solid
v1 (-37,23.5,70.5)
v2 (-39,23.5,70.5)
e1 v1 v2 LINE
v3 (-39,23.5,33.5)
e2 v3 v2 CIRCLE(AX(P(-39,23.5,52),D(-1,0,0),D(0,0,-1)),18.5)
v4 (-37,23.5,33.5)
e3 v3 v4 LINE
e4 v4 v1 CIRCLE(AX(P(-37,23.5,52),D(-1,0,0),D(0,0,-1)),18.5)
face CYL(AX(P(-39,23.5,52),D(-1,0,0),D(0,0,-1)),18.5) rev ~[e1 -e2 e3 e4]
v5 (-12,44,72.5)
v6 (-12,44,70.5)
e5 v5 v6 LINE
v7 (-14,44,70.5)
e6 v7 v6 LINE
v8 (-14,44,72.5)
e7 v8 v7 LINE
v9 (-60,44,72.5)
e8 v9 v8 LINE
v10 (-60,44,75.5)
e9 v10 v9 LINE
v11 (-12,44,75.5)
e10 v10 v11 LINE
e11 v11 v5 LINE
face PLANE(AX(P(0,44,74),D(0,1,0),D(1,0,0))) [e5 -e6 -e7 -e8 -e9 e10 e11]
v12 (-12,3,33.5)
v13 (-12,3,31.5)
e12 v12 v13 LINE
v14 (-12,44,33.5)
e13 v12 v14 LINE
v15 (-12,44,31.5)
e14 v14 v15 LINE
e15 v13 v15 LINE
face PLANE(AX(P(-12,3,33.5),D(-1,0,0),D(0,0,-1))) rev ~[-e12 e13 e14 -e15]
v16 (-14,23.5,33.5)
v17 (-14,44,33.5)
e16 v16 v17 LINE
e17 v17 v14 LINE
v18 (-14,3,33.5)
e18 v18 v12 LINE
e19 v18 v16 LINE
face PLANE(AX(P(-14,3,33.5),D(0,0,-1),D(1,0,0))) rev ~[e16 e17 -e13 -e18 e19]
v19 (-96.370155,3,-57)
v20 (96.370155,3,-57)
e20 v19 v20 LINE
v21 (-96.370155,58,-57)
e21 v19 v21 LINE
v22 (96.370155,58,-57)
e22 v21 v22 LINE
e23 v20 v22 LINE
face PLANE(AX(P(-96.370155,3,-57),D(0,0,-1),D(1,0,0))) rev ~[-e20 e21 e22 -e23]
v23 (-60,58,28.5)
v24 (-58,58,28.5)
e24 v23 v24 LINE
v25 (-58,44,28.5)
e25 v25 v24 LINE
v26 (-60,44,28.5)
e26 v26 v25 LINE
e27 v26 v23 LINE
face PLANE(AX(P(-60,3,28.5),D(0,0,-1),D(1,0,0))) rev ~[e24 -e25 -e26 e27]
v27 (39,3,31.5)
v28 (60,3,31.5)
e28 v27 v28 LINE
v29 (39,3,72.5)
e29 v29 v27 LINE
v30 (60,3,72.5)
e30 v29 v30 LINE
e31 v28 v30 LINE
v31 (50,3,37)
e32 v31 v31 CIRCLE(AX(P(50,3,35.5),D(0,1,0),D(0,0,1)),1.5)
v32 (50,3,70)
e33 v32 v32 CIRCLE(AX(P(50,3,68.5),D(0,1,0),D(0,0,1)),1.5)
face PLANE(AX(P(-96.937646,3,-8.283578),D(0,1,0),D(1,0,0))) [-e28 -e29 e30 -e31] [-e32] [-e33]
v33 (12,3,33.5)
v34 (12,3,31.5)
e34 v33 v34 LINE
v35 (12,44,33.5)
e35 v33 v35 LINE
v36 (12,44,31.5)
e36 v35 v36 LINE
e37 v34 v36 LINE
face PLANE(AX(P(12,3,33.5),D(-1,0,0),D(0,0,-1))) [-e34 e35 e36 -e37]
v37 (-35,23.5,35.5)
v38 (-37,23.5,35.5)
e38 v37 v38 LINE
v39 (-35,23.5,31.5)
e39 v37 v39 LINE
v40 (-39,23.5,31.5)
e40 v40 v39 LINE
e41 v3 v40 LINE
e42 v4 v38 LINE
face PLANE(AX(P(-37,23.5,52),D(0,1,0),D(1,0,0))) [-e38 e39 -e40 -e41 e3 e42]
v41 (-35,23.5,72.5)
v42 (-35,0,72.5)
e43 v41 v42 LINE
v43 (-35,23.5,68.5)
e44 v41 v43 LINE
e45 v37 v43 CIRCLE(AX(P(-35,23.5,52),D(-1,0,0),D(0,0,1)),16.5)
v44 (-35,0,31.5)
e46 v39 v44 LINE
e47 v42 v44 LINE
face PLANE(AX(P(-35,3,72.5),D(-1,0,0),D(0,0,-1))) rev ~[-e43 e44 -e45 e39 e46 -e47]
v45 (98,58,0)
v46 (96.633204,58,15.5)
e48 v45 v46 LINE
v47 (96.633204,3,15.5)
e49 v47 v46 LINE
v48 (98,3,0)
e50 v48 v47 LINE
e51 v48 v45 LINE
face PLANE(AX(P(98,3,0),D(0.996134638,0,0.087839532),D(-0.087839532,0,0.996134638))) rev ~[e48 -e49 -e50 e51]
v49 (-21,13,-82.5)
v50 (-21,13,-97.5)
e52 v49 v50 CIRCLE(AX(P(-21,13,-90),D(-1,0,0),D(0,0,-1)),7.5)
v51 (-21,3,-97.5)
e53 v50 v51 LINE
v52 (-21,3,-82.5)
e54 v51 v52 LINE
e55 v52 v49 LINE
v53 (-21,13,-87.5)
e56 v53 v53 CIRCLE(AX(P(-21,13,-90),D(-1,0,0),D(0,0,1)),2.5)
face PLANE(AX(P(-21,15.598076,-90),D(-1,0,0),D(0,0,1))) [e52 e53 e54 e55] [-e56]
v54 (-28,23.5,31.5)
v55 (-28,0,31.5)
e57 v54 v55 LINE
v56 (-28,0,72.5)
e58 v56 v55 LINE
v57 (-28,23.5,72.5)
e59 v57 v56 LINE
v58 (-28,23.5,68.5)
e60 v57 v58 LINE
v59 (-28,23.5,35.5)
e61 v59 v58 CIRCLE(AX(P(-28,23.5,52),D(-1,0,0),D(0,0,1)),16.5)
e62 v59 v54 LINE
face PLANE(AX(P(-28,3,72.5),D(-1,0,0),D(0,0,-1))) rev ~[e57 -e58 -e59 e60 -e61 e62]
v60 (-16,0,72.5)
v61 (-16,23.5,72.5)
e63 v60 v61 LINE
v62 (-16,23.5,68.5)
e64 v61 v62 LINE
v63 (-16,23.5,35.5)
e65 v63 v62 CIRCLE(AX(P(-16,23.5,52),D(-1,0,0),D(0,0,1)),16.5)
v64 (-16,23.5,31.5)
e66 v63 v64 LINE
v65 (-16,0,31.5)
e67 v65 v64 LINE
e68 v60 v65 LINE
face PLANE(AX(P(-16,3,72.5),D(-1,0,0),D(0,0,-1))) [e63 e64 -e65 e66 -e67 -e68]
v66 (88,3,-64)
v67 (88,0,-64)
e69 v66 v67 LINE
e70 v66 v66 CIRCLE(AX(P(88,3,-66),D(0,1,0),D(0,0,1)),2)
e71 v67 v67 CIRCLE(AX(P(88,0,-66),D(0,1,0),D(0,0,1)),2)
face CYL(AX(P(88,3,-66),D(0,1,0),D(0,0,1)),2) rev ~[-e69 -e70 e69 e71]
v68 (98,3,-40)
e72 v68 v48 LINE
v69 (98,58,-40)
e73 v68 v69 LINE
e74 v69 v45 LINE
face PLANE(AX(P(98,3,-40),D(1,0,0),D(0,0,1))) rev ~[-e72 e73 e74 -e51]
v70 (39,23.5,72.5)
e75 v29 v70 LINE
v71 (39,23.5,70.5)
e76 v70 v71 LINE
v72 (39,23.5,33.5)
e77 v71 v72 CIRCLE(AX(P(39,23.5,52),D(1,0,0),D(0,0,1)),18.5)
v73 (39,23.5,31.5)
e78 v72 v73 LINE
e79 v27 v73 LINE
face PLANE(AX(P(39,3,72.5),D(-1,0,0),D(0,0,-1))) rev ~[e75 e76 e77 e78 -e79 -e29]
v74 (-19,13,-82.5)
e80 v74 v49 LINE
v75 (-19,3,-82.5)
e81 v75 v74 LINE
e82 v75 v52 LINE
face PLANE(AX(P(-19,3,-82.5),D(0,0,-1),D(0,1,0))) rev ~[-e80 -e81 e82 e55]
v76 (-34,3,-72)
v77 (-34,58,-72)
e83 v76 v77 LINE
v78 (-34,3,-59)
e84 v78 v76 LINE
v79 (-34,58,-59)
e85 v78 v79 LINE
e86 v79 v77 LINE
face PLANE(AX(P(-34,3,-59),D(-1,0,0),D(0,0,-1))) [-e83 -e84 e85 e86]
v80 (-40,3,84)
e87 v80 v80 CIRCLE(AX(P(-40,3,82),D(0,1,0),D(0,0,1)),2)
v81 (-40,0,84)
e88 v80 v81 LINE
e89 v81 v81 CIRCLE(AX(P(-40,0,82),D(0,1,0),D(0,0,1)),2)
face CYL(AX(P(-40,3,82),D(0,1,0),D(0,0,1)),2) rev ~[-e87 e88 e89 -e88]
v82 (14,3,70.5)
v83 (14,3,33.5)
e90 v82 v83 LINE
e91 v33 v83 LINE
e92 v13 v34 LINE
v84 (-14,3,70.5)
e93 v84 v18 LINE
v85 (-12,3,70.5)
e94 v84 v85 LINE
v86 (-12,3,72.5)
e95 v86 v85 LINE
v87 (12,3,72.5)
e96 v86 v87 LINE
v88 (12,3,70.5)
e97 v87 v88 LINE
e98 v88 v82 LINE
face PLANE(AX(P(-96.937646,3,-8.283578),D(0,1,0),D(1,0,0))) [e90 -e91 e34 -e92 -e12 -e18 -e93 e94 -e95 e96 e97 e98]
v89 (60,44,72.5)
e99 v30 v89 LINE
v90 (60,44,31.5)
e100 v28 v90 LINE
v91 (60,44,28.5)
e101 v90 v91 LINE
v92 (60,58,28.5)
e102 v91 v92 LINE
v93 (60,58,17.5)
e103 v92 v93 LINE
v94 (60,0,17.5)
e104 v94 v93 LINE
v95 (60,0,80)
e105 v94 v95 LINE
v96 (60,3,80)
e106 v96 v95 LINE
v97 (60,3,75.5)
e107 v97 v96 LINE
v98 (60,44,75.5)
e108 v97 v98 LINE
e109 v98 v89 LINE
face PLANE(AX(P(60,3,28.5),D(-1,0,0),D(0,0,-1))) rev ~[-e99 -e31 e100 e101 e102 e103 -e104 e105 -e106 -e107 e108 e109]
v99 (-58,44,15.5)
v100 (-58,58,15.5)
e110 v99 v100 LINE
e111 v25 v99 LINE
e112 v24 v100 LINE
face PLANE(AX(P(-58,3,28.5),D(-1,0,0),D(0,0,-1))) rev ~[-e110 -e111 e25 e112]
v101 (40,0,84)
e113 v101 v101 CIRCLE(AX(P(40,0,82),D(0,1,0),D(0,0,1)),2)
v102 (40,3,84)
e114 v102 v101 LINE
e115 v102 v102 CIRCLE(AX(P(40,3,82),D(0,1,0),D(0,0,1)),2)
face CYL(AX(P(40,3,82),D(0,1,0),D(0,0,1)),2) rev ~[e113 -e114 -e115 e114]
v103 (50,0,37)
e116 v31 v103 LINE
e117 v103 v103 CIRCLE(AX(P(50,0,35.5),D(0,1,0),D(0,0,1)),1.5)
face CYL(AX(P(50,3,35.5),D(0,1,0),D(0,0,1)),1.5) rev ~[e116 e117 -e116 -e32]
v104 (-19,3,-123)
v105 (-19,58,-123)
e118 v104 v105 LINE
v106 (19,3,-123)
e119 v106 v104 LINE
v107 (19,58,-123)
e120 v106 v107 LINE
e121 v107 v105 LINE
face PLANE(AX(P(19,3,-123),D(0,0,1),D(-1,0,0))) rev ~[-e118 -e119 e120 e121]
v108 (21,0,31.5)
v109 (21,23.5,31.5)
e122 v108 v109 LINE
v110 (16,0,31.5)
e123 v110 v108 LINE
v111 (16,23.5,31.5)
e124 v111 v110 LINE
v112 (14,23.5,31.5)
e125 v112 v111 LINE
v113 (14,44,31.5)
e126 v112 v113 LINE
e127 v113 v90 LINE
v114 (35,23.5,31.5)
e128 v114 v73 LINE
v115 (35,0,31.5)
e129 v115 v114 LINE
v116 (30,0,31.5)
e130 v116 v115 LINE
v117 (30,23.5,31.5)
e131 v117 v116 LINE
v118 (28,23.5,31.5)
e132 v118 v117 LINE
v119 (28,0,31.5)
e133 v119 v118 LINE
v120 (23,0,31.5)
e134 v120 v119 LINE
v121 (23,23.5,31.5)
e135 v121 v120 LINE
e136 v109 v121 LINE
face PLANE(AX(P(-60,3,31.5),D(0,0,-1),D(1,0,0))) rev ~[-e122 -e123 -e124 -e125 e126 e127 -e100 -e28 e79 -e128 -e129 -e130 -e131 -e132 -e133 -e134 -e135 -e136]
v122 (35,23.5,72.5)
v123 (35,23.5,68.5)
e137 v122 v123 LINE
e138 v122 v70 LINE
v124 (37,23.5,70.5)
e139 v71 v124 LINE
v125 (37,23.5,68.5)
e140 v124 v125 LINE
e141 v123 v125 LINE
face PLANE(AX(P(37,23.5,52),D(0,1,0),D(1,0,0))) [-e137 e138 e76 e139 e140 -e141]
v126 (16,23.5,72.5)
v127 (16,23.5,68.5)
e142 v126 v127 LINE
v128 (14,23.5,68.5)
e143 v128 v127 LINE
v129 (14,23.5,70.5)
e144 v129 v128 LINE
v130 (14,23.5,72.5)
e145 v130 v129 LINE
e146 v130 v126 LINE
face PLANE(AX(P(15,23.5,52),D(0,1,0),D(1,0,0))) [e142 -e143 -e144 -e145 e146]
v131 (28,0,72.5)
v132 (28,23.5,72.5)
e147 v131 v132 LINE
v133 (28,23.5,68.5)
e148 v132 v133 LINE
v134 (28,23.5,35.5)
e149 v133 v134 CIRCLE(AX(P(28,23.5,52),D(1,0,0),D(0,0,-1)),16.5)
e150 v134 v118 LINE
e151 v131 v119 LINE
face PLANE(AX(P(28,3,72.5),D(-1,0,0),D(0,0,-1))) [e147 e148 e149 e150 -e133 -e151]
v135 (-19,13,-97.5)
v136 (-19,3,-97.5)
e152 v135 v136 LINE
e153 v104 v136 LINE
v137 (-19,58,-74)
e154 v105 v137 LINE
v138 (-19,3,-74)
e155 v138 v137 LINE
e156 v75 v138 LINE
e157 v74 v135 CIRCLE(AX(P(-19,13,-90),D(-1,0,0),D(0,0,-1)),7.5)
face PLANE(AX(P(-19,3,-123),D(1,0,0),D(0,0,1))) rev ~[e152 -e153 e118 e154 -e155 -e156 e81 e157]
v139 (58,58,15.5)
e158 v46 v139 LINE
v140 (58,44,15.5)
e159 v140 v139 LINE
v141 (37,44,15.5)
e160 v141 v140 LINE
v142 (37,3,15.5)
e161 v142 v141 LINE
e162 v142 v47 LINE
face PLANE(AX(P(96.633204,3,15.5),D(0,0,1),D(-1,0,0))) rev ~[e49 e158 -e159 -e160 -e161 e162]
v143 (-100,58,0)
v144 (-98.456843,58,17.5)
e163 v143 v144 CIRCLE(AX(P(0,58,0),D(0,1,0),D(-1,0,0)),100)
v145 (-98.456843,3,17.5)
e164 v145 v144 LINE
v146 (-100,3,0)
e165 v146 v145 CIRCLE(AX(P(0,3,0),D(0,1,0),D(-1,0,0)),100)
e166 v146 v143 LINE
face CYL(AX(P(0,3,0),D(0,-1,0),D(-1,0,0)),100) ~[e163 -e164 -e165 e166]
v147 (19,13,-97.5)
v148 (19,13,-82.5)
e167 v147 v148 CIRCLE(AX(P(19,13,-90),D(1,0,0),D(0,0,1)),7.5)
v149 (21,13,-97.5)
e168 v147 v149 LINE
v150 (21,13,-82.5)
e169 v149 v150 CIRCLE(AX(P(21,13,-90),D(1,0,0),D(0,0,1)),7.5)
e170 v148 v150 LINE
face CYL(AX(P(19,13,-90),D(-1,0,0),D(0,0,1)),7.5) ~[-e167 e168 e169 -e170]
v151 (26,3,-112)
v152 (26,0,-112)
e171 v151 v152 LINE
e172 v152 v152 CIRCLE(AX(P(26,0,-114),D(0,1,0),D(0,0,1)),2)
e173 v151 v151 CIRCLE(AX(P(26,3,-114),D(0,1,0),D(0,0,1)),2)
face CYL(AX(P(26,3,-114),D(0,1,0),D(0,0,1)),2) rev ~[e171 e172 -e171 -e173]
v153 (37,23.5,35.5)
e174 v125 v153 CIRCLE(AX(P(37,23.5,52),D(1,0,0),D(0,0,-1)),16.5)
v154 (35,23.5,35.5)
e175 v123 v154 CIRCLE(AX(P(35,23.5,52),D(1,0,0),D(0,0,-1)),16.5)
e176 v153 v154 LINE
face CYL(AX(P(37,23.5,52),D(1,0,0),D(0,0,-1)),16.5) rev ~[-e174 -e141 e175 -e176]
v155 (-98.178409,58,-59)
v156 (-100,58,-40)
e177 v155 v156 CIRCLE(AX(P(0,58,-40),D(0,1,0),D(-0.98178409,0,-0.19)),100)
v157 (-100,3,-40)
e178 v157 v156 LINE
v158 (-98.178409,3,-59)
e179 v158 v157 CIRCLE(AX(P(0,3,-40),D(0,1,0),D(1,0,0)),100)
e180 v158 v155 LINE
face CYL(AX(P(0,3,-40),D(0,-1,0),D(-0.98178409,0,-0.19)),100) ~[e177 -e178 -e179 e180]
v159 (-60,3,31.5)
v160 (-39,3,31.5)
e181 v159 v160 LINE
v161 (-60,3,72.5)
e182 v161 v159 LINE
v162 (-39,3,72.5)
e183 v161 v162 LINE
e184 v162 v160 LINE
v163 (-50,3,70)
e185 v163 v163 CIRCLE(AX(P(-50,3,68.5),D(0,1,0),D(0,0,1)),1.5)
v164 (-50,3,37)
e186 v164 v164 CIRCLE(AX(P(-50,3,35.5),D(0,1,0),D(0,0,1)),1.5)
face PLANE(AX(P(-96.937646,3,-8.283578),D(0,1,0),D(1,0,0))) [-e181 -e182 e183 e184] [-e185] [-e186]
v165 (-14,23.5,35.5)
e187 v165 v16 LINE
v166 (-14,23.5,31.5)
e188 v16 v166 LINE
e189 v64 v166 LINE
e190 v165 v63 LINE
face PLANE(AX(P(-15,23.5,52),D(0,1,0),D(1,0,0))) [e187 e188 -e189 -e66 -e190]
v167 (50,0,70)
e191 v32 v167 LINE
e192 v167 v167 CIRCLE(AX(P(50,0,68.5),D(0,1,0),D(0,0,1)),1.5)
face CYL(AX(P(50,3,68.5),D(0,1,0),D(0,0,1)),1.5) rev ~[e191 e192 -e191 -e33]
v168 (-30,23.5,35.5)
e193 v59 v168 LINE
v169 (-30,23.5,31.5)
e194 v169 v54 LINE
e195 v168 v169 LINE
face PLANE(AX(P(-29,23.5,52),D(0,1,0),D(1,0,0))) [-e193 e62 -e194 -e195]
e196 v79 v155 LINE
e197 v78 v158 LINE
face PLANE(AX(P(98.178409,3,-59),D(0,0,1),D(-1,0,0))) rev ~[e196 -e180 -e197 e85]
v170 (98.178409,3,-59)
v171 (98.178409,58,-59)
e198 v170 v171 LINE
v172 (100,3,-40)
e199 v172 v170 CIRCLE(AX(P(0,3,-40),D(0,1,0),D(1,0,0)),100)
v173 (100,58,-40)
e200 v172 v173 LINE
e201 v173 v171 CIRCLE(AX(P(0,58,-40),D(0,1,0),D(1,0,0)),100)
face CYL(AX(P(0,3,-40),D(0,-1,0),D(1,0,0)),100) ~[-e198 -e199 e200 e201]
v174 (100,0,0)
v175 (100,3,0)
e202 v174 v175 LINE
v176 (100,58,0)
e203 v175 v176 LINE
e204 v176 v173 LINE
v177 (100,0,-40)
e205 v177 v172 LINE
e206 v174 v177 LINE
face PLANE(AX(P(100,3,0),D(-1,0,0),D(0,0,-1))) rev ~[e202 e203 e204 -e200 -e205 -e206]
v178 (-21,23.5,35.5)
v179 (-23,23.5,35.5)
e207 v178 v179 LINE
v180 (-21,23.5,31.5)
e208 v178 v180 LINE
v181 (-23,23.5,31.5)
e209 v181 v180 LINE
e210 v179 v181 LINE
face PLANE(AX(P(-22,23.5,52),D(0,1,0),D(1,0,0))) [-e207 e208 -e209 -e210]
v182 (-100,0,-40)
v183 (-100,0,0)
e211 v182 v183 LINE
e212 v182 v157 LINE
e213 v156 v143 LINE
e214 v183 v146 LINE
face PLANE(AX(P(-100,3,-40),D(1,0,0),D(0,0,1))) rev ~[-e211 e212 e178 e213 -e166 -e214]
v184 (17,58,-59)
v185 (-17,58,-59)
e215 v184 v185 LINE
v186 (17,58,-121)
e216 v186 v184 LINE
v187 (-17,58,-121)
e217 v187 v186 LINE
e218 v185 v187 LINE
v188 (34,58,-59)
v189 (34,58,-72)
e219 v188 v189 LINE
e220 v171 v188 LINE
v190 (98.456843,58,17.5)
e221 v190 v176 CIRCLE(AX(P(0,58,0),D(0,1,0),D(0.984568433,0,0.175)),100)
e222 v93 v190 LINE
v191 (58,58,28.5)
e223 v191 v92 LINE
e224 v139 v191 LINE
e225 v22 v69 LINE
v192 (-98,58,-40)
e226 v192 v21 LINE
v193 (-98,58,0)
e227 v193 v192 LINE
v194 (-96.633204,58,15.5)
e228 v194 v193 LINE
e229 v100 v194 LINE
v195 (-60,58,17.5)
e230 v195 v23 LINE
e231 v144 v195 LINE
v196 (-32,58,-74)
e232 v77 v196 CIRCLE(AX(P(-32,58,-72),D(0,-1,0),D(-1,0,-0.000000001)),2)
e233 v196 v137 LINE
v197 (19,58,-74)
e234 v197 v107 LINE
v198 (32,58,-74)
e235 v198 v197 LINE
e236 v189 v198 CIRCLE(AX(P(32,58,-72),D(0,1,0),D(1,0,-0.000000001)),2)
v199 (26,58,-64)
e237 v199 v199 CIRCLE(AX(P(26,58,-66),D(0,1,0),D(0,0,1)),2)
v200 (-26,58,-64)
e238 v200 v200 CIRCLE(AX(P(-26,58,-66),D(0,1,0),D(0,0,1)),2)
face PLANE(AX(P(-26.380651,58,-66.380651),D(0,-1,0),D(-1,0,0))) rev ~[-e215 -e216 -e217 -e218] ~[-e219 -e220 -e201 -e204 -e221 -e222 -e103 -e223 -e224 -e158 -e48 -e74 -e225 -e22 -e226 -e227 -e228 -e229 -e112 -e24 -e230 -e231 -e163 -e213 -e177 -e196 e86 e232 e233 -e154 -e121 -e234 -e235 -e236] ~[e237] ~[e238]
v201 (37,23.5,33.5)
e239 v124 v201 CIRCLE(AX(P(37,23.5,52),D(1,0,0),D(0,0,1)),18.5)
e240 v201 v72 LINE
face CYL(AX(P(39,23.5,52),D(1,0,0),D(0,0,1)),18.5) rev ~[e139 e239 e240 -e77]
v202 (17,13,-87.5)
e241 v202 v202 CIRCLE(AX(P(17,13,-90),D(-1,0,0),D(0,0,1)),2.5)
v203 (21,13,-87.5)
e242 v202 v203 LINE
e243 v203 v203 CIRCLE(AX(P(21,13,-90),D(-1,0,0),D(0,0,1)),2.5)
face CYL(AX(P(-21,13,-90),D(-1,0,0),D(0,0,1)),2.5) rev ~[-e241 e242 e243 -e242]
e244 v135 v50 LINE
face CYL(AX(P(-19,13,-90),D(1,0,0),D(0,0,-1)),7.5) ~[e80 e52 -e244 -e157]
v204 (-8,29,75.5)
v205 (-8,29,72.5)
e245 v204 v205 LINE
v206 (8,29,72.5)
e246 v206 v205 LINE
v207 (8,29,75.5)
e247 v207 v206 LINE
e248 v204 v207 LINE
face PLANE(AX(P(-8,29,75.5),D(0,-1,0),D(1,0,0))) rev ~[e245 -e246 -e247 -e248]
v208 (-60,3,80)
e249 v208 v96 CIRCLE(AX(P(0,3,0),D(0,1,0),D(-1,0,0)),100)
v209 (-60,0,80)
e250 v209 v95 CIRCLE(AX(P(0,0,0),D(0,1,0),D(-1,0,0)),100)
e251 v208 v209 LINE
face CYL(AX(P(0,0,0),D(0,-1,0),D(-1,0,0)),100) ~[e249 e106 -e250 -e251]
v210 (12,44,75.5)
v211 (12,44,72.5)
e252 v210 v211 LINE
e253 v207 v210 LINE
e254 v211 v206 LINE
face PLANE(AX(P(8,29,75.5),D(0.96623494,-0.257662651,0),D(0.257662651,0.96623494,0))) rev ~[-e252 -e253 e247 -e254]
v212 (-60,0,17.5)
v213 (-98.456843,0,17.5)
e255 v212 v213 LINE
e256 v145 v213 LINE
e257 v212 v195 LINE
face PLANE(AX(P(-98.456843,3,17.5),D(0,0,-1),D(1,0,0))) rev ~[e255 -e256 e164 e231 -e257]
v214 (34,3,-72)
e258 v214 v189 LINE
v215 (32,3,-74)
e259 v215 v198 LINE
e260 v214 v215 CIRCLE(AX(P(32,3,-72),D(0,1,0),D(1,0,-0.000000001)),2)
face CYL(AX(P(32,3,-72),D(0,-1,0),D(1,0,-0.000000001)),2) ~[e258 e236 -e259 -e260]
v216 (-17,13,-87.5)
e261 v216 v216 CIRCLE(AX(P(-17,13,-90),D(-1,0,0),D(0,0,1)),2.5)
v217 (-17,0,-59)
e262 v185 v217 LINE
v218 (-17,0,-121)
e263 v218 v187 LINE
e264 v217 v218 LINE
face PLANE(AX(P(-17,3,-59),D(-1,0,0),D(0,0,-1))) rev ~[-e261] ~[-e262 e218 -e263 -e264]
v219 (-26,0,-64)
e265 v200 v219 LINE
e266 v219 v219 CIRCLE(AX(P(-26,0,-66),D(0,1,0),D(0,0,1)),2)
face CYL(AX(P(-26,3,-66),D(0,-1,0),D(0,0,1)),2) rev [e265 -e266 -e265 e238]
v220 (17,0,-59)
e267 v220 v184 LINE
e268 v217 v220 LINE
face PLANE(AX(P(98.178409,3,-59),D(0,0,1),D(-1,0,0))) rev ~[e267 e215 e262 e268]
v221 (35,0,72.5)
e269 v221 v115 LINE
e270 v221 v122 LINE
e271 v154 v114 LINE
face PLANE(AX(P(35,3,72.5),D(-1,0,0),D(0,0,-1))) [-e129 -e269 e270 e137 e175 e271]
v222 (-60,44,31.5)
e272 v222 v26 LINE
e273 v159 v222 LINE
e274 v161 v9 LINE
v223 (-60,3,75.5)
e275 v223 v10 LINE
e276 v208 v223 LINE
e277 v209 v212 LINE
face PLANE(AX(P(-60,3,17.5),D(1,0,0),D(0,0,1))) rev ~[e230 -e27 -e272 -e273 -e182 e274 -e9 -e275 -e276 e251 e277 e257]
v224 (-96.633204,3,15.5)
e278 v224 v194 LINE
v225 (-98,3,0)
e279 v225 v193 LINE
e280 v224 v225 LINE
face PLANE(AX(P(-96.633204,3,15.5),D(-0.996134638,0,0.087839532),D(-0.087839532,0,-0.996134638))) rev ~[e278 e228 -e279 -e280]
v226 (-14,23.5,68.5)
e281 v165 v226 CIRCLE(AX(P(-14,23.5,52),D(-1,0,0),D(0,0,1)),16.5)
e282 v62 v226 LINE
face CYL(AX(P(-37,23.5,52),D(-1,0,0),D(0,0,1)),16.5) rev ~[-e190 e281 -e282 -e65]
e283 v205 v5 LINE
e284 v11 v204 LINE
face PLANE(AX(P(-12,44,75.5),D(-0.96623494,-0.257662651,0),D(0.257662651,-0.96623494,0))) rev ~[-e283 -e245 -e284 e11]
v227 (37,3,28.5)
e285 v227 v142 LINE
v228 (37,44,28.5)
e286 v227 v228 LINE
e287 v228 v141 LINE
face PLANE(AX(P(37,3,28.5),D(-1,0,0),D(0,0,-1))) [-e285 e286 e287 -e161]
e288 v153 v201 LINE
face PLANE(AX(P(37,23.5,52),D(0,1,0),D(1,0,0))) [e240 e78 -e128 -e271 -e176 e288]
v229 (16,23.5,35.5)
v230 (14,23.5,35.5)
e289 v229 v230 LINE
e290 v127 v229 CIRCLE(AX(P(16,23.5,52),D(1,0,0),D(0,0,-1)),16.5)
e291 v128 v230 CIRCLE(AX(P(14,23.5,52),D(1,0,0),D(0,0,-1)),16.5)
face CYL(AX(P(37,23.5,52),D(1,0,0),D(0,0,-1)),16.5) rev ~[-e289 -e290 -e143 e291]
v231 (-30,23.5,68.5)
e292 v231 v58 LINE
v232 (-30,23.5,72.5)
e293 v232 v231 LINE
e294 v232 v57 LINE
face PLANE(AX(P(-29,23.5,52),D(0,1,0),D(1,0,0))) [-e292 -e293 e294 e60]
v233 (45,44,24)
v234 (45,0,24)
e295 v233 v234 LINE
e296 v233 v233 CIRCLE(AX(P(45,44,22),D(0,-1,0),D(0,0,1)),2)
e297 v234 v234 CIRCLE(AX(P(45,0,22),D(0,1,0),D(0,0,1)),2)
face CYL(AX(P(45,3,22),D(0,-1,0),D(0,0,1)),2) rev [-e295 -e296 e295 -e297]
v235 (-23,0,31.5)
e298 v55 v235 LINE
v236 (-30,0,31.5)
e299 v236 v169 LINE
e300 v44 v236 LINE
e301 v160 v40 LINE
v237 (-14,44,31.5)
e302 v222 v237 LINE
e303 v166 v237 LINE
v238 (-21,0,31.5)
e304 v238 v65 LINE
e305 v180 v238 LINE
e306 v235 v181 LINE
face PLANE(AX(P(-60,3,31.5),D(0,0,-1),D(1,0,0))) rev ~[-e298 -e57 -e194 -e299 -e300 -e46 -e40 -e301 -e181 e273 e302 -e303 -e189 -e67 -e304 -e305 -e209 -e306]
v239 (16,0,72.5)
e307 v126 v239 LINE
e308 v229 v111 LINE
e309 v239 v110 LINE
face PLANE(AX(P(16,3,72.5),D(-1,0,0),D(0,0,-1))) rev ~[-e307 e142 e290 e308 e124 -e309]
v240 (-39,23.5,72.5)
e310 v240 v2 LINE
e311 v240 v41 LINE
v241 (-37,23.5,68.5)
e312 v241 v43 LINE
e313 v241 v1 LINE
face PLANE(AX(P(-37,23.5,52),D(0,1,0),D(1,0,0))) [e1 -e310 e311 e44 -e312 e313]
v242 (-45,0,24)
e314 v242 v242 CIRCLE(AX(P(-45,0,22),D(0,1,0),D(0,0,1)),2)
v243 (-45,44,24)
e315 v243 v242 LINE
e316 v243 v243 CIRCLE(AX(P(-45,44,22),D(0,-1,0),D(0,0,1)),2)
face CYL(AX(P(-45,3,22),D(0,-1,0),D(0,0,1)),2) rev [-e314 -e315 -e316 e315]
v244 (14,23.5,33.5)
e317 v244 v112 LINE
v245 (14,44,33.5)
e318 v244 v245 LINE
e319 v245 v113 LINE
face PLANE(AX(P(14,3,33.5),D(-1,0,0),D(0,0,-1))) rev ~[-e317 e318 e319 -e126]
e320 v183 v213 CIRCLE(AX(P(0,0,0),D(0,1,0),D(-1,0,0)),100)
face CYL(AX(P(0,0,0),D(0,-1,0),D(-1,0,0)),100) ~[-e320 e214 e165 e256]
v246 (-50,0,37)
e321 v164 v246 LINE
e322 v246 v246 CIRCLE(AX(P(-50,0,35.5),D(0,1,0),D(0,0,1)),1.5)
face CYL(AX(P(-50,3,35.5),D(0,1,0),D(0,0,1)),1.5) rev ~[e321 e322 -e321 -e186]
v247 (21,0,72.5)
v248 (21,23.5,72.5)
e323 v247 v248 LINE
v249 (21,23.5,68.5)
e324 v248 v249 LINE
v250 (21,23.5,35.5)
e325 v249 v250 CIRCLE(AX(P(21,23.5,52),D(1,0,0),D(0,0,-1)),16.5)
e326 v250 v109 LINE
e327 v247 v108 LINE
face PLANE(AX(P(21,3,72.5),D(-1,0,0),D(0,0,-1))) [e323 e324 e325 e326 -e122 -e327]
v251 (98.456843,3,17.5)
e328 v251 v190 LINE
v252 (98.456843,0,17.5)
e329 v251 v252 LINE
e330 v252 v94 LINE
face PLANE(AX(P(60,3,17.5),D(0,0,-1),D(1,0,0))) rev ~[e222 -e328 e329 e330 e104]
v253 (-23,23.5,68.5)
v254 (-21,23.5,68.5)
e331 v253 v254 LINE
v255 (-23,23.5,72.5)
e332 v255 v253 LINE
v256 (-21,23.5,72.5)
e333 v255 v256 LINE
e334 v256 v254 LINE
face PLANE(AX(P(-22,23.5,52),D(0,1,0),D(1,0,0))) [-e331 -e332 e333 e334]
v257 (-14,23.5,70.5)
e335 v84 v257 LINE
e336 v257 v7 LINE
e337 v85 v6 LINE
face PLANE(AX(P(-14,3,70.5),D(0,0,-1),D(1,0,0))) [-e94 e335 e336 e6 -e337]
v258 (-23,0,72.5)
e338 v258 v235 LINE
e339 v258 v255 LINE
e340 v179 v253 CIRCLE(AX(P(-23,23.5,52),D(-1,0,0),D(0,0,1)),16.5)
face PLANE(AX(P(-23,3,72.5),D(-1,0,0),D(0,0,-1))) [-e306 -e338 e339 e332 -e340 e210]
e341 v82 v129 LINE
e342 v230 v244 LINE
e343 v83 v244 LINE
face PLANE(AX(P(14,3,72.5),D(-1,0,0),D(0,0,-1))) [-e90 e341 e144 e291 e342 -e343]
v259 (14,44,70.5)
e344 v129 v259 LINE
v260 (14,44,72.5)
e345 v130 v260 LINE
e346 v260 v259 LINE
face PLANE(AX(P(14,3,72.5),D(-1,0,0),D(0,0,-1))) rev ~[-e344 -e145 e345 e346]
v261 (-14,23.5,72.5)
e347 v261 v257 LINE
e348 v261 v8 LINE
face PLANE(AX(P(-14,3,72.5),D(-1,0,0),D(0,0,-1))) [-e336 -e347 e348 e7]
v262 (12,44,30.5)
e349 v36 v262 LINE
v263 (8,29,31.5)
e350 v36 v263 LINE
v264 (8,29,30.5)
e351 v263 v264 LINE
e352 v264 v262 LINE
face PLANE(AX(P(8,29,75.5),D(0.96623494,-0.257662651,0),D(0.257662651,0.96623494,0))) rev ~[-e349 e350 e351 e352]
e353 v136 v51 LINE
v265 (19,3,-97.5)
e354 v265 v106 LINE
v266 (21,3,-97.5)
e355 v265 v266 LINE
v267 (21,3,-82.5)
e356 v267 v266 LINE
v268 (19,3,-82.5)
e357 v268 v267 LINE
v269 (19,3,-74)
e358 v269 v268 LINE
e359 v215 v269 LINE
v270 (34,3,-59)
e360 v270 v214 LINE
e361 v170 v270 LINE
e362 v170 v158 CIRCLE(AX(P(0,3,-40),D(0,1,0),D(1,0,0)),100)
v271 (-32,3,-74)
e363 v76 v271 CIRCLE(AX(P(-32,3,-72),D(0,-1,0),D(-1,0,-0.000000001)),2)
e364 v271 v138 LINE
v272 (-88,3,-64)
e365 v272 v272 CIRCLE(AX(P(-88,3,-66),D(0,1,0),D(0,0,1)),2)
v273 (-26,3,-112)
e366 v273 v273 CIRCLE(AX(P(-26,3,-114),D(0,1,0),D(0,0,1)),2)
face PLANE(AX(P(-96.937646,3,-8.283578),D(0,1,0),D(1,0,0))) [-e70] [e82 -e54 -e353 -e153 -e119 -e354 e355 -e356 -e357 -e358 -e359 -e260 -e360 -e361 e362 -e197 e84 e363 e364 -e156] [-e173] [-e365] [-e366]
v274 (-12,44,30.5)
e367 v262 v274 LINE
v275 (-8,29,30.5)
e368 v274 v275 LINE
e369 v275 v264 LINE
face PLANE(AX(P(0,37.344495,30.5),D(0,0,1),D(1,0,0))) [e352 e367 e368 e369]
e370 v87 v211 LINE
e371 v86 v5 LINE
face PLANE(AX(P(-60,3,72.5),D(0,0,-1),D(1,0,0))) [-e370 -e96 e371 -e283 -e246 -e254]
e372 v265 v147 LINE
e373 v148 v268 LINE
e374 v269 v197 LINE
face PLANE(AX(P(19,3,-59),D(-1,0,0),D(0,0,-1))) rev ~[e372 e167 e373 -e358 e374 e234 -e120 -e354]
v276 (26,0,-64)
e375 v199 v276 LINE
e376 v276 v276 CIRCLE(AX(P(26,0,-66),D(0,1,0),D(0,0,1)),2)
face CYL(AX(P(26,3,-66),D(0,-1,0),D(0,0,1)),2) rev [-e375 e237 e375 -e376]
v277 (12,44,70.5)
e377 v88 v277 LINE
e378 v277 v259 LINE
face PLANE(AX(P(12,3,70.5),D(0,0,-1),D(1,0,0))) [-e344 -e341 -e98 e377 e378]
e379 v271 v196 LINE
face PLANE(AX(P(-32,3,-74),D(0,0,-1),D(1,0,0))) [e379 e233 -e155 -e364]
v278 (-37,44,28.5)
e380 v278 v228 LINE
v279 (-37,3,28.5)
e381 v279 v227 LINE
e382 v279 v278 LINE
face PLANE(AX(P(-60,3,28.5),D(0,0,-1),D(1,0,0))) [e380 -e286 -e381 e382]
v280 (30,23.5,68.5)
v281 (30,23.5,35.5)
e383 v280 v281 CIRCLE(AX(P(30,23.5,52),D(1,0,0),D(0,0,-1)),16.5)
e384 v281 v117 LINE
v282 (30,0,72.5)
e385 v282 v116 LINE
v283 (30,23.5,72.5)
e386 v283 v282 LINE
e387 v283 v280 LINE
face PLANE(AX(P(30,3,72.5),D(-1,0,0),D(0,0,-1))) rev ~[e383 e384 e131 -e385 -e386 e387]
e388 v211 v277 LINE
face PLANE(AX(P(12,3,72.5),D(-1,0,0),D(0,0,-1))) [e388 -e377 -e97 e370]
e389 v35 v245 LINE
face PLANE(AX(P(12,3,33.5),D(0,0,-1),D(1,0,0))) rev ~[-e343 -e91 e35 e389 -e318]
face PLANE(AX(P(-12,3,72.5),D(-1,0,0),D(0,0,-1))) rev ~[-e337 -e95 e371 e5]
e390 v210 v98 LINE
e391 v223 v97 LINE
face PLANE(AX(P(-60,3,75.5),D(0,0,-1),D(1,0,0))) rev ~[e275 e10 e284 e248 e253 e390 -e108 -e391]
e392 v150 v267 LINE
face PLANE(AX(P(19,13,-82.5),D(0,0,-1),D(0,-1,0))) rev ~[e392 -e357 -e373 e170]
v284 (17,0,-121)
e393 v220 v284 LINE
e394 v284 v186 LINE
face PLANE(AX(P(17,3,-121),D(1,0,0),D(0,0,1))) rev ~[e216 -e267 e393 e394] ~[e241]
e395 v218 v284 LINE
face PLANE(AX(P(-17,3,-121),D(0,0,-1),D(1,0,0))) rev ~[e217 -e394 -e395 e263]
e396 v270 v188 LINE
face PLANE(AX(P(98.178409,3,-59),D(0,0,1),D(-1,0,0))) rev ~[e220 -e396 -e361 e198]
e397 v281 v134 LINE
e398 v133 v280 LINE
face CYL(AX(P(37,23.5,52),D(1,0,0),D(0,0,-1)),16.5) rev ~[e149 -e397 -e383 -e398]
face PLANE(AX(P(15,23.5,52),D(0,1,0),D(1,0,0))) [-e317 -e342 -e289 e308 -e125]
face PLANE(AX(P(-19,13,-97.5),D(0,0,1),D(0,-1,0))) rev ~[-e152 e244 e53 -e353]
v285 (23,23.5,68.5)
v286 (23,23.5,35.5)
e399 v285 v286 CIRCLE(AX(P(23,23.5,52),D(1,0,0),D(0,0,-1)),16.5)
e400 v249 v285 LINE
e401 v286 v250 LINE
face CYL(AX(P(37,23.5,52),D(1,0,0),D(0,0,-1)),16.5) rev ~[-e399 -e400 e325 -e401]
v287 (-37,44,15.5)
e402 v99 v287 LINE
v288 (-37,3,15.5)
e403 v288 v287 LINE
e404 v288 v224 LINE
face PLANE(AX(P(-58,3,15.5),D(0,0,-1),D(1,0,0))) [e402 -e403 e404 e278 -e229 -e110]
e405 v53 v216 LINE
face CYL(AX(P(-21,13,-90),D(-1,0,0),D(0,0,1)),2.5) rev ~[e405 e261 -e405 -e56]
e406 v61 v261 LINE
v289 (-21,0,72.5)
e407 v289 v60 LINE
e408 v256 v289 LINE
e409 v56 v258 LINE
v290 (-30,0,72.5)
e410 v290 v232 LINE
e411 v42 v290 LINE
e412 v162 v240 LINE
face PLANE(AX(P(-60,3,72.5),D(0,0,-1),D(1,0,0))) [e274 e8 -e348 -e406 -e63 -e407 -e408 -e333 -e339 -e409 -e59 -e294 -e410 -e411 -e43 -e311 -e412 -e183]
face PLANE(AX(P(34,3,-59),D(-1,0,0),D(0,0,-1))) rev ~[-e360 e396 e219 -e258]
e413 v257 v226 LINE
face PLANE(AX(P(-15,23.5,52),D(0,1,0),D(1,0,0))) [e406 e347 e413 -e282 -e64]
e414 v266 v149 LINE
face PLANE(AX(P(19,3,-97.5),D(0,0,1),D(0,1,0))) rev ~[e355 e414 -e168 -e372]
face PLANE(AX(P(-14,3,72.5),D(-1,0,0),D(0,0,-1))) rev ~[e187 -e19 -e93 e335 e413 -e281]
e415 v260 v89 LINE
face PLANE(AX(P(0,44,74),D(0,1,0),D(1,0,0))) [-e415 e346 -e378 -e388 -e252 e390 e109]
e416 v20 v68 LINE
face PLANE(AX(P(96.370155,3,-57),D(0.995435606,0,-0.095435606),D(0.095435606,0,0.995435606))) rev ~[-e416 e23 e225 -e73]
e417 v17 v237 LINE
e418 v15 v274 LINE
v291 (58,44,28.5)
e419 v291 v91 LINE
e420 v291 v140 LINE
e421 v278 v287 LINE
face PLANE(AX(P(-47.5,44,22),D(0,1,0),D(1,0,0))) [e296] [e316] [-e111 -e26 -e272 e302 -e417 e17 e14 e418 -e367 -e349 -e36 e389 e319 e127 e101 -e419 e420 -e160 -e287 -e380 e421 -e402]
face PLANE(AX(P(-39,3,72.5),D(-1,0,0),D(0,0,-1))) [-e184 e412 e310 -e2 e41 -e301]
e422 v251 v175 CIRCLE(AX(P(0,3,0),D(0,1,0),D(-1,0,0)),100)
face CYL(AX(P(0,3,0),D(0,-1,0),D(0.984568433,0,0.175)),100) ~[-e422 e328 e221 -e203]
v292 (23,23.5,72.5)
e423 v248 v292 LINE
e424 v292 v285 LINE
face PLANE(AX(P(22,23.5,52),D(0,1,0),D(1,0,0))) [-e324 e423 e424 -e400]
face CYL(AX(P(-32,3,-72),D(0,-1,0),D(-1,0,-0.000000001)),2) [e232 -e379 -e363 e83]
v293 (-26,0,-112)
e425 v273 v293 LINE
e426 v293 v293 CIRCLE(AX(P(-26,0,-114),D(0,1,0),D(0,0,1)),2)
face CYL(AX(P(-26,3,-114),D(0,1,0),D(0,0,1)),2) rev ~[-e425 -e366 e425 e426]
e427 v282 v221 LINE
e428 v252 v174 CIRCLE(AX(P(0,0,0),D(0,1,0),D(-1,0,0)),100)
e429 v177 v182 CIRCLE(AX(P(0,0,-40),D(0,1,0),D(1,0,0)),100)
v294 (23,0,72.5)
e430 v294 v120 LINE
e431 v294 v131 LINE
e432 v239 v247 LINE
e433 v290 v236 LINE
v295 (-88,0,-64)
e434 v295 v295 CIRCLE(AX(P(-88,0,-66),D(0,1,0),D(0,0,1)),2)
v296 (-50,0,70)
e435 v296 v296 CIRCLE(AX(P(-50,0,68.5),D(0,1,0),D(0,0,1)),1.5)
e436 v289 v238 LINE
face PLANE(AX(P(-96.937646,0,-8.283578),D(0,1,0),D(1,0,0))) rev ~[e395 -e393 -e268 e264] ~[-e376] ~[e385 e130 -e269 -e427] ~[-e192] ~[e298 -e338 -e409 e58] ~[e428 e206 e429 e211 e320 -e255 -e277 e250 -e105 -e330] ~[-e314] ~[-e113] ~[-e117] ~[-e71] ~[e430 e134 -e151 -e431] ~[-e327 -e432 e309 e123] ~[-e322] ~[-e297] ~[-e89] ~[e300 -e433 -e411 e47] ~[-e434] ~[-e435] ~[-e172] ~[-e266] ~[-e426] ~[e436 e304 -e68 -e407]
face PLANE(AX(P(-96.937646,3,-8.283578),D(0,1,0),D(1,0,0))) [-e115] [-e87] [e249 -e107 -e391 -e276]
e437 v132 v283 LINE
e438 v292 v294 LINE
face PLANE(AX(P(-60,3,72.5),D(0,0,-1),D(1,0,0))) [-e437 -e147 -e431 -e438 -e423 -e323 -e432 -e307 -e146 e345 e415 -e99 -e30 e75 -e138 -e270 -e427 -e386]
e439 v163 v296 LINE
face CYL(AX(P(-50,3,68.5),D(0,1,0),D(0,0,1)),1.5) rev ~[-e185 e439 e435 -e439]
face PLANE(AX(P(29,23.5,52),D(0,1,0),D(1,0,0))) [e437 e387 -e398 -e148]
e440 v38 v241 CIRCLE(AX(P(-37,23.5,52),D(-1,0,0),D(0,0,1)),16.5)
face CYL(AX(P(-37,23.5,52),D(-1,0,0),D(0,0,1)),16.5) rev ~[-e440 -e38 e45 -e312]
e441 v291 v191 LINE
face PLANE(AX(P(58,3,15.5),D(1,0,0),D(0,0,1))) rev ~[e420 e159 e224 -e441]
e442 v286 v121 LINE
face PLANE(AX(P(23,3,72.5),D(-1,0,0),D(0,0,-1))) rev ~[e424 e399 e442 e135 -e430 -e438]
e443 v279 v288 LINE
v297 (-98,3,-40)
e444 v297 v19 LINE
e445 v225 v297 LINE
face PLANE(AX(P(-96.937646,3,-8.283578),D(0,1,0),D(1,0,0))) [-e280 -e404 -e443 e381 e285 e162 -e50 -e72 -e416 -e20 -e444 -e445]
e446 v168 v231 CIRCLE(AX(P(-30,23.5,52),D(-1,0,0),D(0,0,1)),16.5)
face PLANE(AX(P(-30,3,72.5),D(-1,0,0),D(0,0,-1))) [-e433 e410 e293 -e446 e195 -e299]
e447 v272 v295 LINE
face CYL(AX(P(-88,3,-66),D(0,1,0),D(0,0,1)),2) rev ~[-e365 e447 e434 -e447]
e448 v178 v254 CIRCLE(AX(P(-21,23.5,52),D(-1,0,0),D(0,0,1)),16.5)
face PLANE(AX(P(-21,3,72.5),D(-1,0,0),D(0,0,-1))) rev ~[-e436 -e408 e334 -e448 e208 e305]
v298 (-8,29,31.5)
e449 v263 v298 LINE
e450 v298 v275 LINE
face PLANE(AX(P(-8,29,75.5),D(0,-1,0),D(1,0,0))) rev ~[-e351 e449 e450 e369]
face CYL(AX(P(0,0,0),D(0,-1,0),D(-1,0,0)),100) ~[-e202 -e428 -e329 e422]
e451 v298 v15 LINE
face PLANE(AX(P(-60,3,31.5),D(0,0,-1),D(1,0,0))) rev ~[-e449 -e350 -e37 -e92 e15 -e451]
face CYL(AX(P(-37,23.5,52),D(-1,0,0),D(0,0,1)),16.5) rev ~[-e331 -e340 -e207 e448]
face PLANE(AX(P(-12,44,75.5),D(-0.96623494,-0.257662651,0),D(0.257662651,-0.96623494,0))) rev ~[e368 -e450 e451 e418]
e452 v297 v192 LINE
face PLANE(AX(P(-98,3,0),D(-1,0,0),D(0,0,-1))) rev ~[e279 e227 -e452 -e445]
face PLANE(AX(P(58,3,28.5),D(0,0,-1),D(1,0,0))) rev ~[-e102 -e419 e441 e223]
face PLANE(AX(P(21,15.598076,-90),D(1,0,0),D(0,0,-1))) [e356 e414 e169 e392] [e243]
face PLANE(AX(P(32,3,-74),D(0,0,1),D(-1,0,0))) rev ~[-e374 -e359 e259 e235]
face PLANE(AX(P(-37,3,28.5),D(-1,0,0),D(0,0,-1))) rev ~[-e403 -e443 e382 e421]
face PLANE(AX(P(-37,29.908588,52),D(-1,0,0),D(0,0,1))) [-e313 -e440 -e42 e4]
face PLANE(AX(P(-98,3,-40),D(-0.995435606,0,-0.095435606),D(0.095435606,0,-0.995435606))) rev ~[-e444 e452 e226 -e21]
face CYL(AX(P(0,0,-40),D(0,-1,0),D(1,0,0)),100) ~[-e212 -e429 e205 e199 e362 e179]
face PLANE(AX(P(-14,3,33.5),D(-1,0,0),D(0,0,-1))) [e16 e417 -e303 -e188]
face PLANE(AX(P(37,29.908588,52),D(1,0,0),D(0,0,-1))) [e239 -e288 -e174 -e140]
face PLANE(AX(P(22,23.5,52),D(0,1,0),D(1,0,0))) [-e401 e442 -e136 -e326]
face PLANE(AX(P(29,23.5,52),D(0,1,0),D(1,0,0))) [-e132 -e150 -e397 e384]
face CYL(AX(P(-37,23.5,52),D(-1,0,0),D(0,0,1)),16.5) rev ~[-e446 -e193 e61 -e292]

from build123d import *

# Parameters (mm, degrees)
EXTRUDE_1271_DEPTH           = 3
CUT_EXTRUDE_1634_DEPTH       = 3
SKETCH_3_W                   = 34
SKETCH_3_H                   = 62
CUT_EXTRUDE_1874_DEPTH       = 3
SKETCH_4_W                   = 120
SKETCH_4_H                   = 3
EXTRUDE_2348_DEPTH           = 41
SKETCH_5_W                   = 4
SKETCH_5_H                   = 41
SKETCH_5_W_2                 = 2
EXTRUDE_3692_DEPTH           = 20.5
SKETCH_10_R                  = 1.5
CUT_EXTRUDE_4123_DEPTH       = 177.864354803
CUT_EXTRUDE_4368_DEPTH       = 2
CUT_EXTRUDE_4605_DEPTH       = 2
SKETCH_11_R                  = 16.5
CUT_EXTRUDE_4720_DEPTH       = 23
SKETCH_12_R                  = 16.5
CUT_EXTRUDE_4849_DEPTH       = 23
CUT_EXTRUDE_5113_DEPTH       = 45
SKETCH_14_W                  = 2
SKETCH_14_H                  = 2
EXTRUDE_5954_DEPTH           = 41
SKETCH_19_W                  = 5
SKETCH_19_H                  = 41
CUT_EXTRUDE_6417_DEPTH       = 3
EXTRUDE_8763_DEPTH           = 55
EXTRUDE_9330_DEPTH           = 55
EXTRUDE_9736_DEPTH           = 2
EXTRUDE_10110_DEPTH          = 2
SKETCH_22_R                  = 2.5
CUT_EXTRUDE_10276_DEPTH      = 42
EXTRUDE_10908_DEPTH          = 55
SKETCH_26_W                  = 21
SKETCH_26_H                  = 13
EXTRUDE_11207_DEPTH          = 41
SKETCH_23_R                  = 2
CUT_EXTRUDE_12071_DEPTH      = 55
CUT_EXTRUDE_12071_DEPTH_BACK = 3


with BuildPart() as part:
    # 草图1 → Extrude 1271 (new body)
    with BuildSketch(Plane(origin=(0, 0, 0), x_dir=(1, 0, 0), z_dir=(0, 1, 0))):
        with BuildLine():
            ThreePointArc((-97.979589711, 20), (-99.493615301, 10.050896201), (-100, 0))
            Line((-100, 0), (-91.651513899, 0))
            ThreePointArc((-91.651513899, 0), (-95.341433092, 9.833609167), (-97.979589711, 20))
        make_face()
        with BuildLine():
            Line((-91.651513899, 0), (-100, 0))
            ThreePointArc((-100, 0), (0, -100), (100, 0))
            Line((100, 0), (91.651513899, 0))
            ThreePointArc((91.651513899, 0), (0, -60), (-91.651513899, 0))
        make_face()
        with BuildLine():
            Line((91.651513899, 0), (100, 0))
            ThreePointArc((100, 0), (99.493615301, 10.050896201), (97.979589711, 20))
            ThreePointArc((97.979589711, 20), (95.341433092, 9.833609167), (91.651513899, 0))
        make_face()
        with BuildLine():
            ThreePointArc((-97.979589711, 20), (-95.341433092, 9.833609167), (-91.651513899, 0))
            Line((-91.651513899, 0), (91.651513899, 0))
            ThreePointArc((91.651513899, 0), (95.341433092, 9.833609167), (97.979589711, 20))
            ThreePointArc((97.979589711, 20), (95.341433092, 30.166390833), (91.651513899, 40))
            Line((91.651513899, 40), (-91.651513899, 40))
            ThreePointArc((-91.651513899, 40), (-95.341433092, 30.166390833), (-97.979589711, 20))
        make_face()
        with BuildLine():
            ThreePointArc((100, 40), (0, 140), (-100, 40))
            Line((-100, 40), (-91.651513899, 40))
            ThreePointArc((-91.651513899, 40), (0, 100), (91.651513899, 40))
            Line((91.651513899, 40), (100, 40))
        make_face()
        with BuildLine():
            Line((-91.651513899, 40), (-100, 40))
            ThreePointArc((-100, 40), (-99.493615301, 29.949103799), (-97.979589711, 20))
            ThreePointArc((-97.979589711, 20), (-95.341433092, 30.166390833), (-91.651513899, 40))
        make_face()
        with BuildLine():
            ThreePointArc((97.979589711, 20), (99.493615301, 29.949103799), (100, 40))
            Line((100, 40), (91.651513899, 40))
            ThreePointArc((91.651513899, 40), (95.341433092, 30.166390833), (97.979589711, 20))
        make_face()
        with BuildLine():
            ThreePointArc((91.651513899, 40), (0, 100), (-91.651513899, 40))
            Line((-91.651513899, 40), (91.651513899, 40))
        make_face()
        with BuildLine():
            Line((91.651513899, 0), (-91.651513899, 0))
            ThreePointArc((-91.651513899, 0), (0, -60), (91.651513899, 0))
        make_face()
        with BuildLine():
            ThreePointArc((97.979589711, 20), (99.493615301, 10.050896201), (100, 0))
            Line((100, 0), (100, 40))
            ThreePointArc((100, 40), (99.493615301, 29.949103799), (97.979589711, 20))
        make_face()
        with BuildLine():
            Line((-100, 40), (-100, 0))
            ThreePointArc((-100, 0), (-99.493615301, 10.050896201), (-97.979589711, 20))
            ThreePointArc((-97.979589711, 20), (-99.493615301, 29.949103799), (-100, 40))
        make_face()
    extrude(amount=EXTRUDE_1271_DEPTH)

    # 草图2 → Cut-Extrude 1634 (cut)
    with BuildSketch(Plane(origin=(0, 3, 0), x_dir=(1, 0, 0), z_dir=(0, 1, 0))):
        with BuildLine():
            ThreePointArc((-98.456843338, -17.5), (-85.168687322, -52.40510185), (-60, -80))
            Line((-60, -80), (-60, -17.5))
            Line((-60, -17.5), (-98.456843338, -17.5))
        make_face()
        with BuildLine():
            Line((98.456843338, -17.5), (60, -17.5))
            Line((60, -17.5), (60, -80))
            ThreePointArc((60, -80), (85.168687322, -52.40510185), (98.456843338, -17.5))
        make_face()
    extrude(amount=-CUT_EXTRUDE_1634_DEPTH, mode=Mode.SUBTRACT)

    # 草图3 → Cut-Extrude 1874 (cut)
    with BuildSketch(Plane(origin=(0, 3, 0), x_dir=(1, 0, 0), z_dir=(0, 1, 0))):
        with Locations((0, 90)):
            Rectangle(SKETCH_3_W, SKETCH_3_H)
    extrude(amount=-CUT_EXTRUDE_1874_DEPTH, mode=Mode.SUBTRACT)

    # 草图4 → Extrude 2348 (add)
    with BuildSketch(Plane(origin=(0, 3, 0), x_dir=(1, 0, 0), z_dir=(0, 1, 0))):
        with Locations((0, -74)):
            Rectangle(SKETCH_4_W, SKETCH_4_H)
        with Locations((0, -30)):
            Rectangle(SKETCH_4_W, SKETCH_4_H)
    extrude(amount=EXTRUDE_2348_DEPTH)

    # 草图5 → Extrude 3692 (add)
    with BuildSketch(Plane(origin=(0, 3, 0), x_dir=(1, 0, 0), z_dir=(0, 1, 0))):
        with Locations((-37, -52)):
            Rectangle(SKETCH_5_W, SKETCH_5_H)
        with Locations((37, -52)):
            Rectangle(SKETCH_5_W, SKETCH_5_H)
        with Locations((-22, -52)):
            Rectangle(SKETCH_5_W_2, SKETCH_5_H)
        with Locations((-15, -52)):
            Rectangle(SKETCH_5_W_2, SKETCH_5_H)
        with Locations((22, -52)):
            Rectangle(SKETCH_5_W_2, SKETCH_5_H)
        with Locations((29, -52)):
            Rectangle(SKETCH_5_W_2, SKETCH_5_H)
        with Locations((-29, -52)):
            Rectangle(SKETCH_5_W_2, SKETCH_5_H)
        with Locations((15, -52)):
            Rectangle(SKETCH_5_W_2, SKETCH_5_H)
    extrude(amount=EXTRUDE_3692_DEPTH)

    # 草图10 → Cut-Extrude 4123 (cut, through all)
    with BuildSketch(Plane(origin=(0, 3, 0), x_dir=(1, 0, 0), z_dir=(0, 1, 0))):
        with Locations(Location((-50, -35.5, 0), (0, 0, 270))):
            Circle(SKETCH_10_R)
        with Locations(Location((-50, -68.5, 0), (0, 0, 270))):
            Circle(SKETCH_10_R)
        with Locations(Location((50, -35.5, 0), (0, 0, 270))):
            Circle(SKETCH_10_R)
        with Locations(Location((50, -68.5, 0), (0, 0, 270))):
            Circle(SKETCH_10_R)
    extrude(amount=-CUT_EXTRUDE_4123_DEPTH, mode=Mode.SUBTRACT)

    # 草图6 → Cut-Extrude 4368 (cut)
    with BuildSketch(Plane.ZY.offset(39)):
        with BuildLine():
            Line((33.5, 23.5), (70.5, 23.5))
            ThreePointArc((70.5, 23.5), (52, 42), (33.5, 23.5))
        make_face()
        with BuildLine():
            ThreePointArc((33.5, 23.5), (52, 5), (70.5, 23.5))
            Line((70.5, 23.5), (33.5, 23.5))
        make_face()
    extrude(amount=-CUT_EXTRUDE_4368_DEPTH, mode=Mode.SUBTRACT)

    # 草图8 → Cut-Extrude 4605 (cut)
    with BuildSketch(Plane(origin=(39, 0, 0), x_dir=(0, 0, -1), z_dir=(1, 0, 0))):
        with BuildLine():
            Line((-70.5, 23.5), (-33.5, 23.5))
            ThreePointArc((-33.5, 23.5), (-52, 42), (-70.5, 23.5))
        make_face()
        with BuildLine():
            ThreePointArc((-70.5, 23.5), (-52, 5), (-33.5, 23.5))
            Line((-33.5, 23.5), (-70.5, 23.5))
        make_face()
    extrude(amount=-CUT_EXTRUDE_4605_DEPTH, mode=Mode.SUBTRACT)

    # 草图11 → Cut-Extrude 4720 (cut)
    with BuildSketch(Plane.ZY.offset(37)):
        with Locations((52, 23.5)):
            Circle(SKETCH_11_R)
    extrude(amount=-CUT_EXTRUDE_4720_DEPTH, mode=Mode.SUBTRACT)

    # 草图12 → Cut-Extrude 4849 (cut)
    with BuildSketch(Plane(origin=(37, 0, 0), x_dir=(0, 0, -1), z_dir=(1, 0, 0))):
        with Locations((-52, 23.5)):
            Circle(SKETCH_12_R)
    extrude(amount=-CUT_EXTRUDE_4849_DEPTH, mode=Mode.SUBTRACT)

    # 草图13 → Cut-Extrude 5113 (cut)
    with BuildSketch(Plane.XY.offset(75.5)):
        Polygon((-8, 29), (8, 29), (12, 44), (-12, 44), align=None)
    extrude(amount=-CUT_EXTRUDE_5113_DEPTH, mode=Mode.SUBTRACT)

    # 草图14 → Extrude 5954 (add)
    with BuildSketch(Plane(origin=(0, 3, 0), x_dir=(1, 0, 0), z_dir=(0, 1, 0))):
        with Locations((-13, -32.5)):
            Rectangle(SKETCH_14_W, SKETCH_14_H)
        with Locations((13, -32.5)):
            Rectangle(SKETCH_14_W, SKETCH_14_H)
        with Locations((13, -71.5)):
            Rectangle(SKETCH_14_W, SKETCH_14_H)
        with Locations((-13, -71.5)):
            Rectangle(SKETCH_14_W, SKETCH_14_H)
    extrude(amount=EXTRUDE_5954_DEPTH)

    # 草图19 → Cut-Extrude 6417 (cut)
    with BuildSketch(Plane(origin=(0, 3, 0), x_dir=(1, 0, 0), z_dir=(0, 1, 0))):
        with Locations((-32.5, -52)):
            Rectangle(SKETCH_19_W, SKETCH_19_H)
        with Locations((-25.5, -52)):
            Rectangle(SKETCH_19_W, SKETCH_19_H)
        with Locations((-18.5, -52)):
            Rectangle(SKETCH_19_W, SKETCH_19_H)
        with Locations((18.5, -52)):
            Rectangle(SKETCH_19_W, SKETCH_19_H)
        with Locations((25.5, -52)):
            Rectangle(SKETCH_19_W, SKETCH_19_H)
        with Locations((32.5, -52)):
            Rectangle(SKETCH_19_W, SKETCH_19_H)
    extrude(amount=-CUT_EXTRUDE_6417_DEPTH, mode=Mode.SUBTRACT)

    # 草图15 → Extrude 8763 (add)
    with BuildSketch(Plane(origin=(0, 3, 0), x_dir=(1, 0, 0), z_dir=(0, 1, 0))):
        with BuildLine():
            Line((-96.633204099, -15.5), (-98, 0))
            Line((-98, 0), (-98, 40))
            Line((-98, 40), (-96.370155449, 57))
            Line((-96.370155449, 57), (96.370155449, 57))
            Line((96.370155449, 57), (98, 40))
            Line((98, 40), (98, 0))
            Line((98, 0), (96.633204099, -15.5))
            Line((96.633204099, -15.5), (58, -15.5))
            Line((58, -15.5), (58, -28.5))
            Line((58, -28.5), (60, -28.5))
            Line((60, -28.5), (60, -17.5))
            Line((60, -17.5), (98.456843338, -17.5))
            ThreePointArc((98.456843338, -17.5), (99.613463783, -8.78395316), (100, 0))
            Line((100, 0), (100, 40))
            ThreePointArc((100, 40), (99.543560573, 49.543560573), (98.178409032, 59))
            Line((98.178409032, 59), (-98.178409032, 59))
            ThreePointArc((-98.178409032, 59), (-99.543560573, 49.543560573), (-100, 40))
            Line((-100, 40), (-100, 0))
            ThreePointArc((-100, 0), (-99.613463783, -8.78395316), (-98.456843338, -17.5))
            Line((-98.456843338, -17.5), (-60, -17.5))
            Line((-60, -17.5), (-60, -28.5))
            Line((-60, -28.5), (-58, -28.5))
            Line((-58, -28.5), (-58, -15.5))
            Line((-58, -15.5), (-96.633204099, -15.5))
        make_face()
    extrude(amount=EXTRUDE_8763_DEPTH)

    # 草图16 → Extrude 9330 (add)
    with BuildSketch(Plane(origin=(0, 3, 0), x_dir=(1, 0, 0), z_dir=(0, 1, 0))):
        Polygon((-19, 123), (-19, 59), (-17, 59), (-17, 121), (17, 121), (17, 59), (19, 59), (19, 123), align=None)
    extrude(amount=EXTRUDE_9330_DEPTH)

    # 草图20 → Extrude 9736 (add)
    with BuildSketch(Plane.ZY.offset(19)):
        with BuildLine():
            ThreePointArc((-82.5, 13), (-90, 20.5), (-97.5, 13))
            Line((-97.5, 13), (-82.5, 13))
        make_face()
        with BuildLine():
            Line((-82.5, 13), (-97.5, 13))
            ThreePointArc((-97.5, 13), (-90, 5.5), (-82.5, 13))
        make_face()
        with BuildLine():
            ThreePointArc((-82.5, 13), (-90, 5.5), (-97.5, 13))
            Line((-97.5, 13), (-97.5, 3))
            Line((-97.5, 3), (-82.5, 3))
            Line((-82.5, 3), (-82.5, 13))
        make_face()
    extrude(amount=EXTRUDE_9736_DEPTH)

    # 草图21 → Extrude 10110 (add)
    with BuildSketch(Plane(origin=(19, 0, 0), x_dir=(0, 0, -1), z_dir=(1, 0, 0))):
        with BuildLine():
            ThreePointArc((97.5, 13), (90, 20.5), (82.5, 13))
            Line((82.5, 13), (97.5, 13))
        make_face()
        with BuildLine():
            Line((97.5, 13), (82.5, 13))
            ThreePointArc((82.5, 13), (90, 5.5), (97.5, 13))
        make_face()
        with BuildLine():
            ThreePointArc((97.5, 13), (90, 5.5), (82.5, 13))
            Line((82.5, 13), (82.5, 3))
            Line((82.5, 3), (97.5, 3))
            Line((97.5, 3), (97.5, 13))
        make_face()
    extrude(amount=EXTRUDE_10110_DEPTH)

    # 草图22 → Cut-Extrude 10276 (cut)
    with BuildSketch(Plane.ZY.offset(21)):
        with Locations((-90, 13)):
            Circle(SKETCH_22_R)
    extrude(amount=-CUT_EXTRUDE_10276_DEPTH, mode=Mode.SUBTRACT)

    # 草图25 → Extrude 10908 (add)
    with BuildSketch(Plane(origin=(0, 3, 0), x_dir=(1, 0, 0), z_dir=(0, 1, 0))):
        with BuildLine():
            Line((-19, 59), (-34, 59))
            Line((-34, 59), (-34, 72))
            ThreePointArc((-34, 72), (-33.414213562, 73.414213562), (-32, 74))
            Line((-32, 74), (-19, 74))
            Line((-19, 74), (-19, 59))
        make_face()
        with BuildLine():
            Line((19, 59), (34, 59))
            Line((34, 59), (34, 72))
            ThreePointArc((34, 72), (33.414213562, 73.414213562), (32, 74))
            Line((32, 74), (19, 74))
            Line((19, 74), (19, 59))
        make_face()
    extrude(amount=EXTRUDE_10908_DEPTH)

    # 草图26 → Extrude 11207 (add)
    with BuildSketch(Plane(origin=(0, 3, 0), x_dir=(1, 0, 0), z_dir=(0, 1, 0))):
        with Locations((-47.5, -22)):
            Rectangle(SKETCH_26_W, SKETCH_26_H)
        with Locations((47.5, -22)):
            Rectangle(SKETCH_26_W, SKETCH_26_H)
    extrude(amount=EXTRUDE_11207_DEPTH)

    # 草图23 → Cut-Extrude 12071 (cut, two sides)
    with BuildSketch(Plane(origin=(0, 3, 0), x_dir=(1, 0, 0), z_dir=(0, 1, 0))) as cut_extrude_12071_sk:
        with Locations(Location((-88, 66, 0), (0, 0, 270))):
            Circle(SKETCH_23_R)
        with Locations(Location((-26, 66, 0), (0, 0, 270))):
            Circle(SKETCH_23_R)
        with Locations(Location((26, 66, 0), (0, 0, 270))):
            Circle(SKETCH_23_R)
        with Locations(Location((88, 66, 0), (0, 0, 270))):
            Circle(SKETCH_23_R)
        with Locations(Location((-45, -22, 0), (0, 0, 270))):
            Circle(SKETCH_23_R)
        with Locations(Location((45, -22, 0), (0, 0, 270))):
            Circle(SKETCH_23_R)
        with Locations(Location((-40, -82, 0), (0, 0, 270))):
            Circle(SKETCH_23_R)
        with Locations(Location((40, -82, 0), (0, 0, 270))):
            Circle(SKETCH_23_R)
        with Locations(Location((-26, 114, 0), (0, 0, 270))):
            Circle(SKETCH_23_R)
        with Locations(Location((26, 114, 0), (0, 0, 270))):
            Circle(SKETCH_23_R)
    extrude(amount=CUT_EXTRUDE_12071_DEPTH, mode=Mode.SUBTRACT)
    extrude(cut_extrude_12071_sk.sketch, amount=-CUT_EXTRUDE_12071_DEPTH_BACK, mode=Mode.SUBTRACT)


solid = part.part
